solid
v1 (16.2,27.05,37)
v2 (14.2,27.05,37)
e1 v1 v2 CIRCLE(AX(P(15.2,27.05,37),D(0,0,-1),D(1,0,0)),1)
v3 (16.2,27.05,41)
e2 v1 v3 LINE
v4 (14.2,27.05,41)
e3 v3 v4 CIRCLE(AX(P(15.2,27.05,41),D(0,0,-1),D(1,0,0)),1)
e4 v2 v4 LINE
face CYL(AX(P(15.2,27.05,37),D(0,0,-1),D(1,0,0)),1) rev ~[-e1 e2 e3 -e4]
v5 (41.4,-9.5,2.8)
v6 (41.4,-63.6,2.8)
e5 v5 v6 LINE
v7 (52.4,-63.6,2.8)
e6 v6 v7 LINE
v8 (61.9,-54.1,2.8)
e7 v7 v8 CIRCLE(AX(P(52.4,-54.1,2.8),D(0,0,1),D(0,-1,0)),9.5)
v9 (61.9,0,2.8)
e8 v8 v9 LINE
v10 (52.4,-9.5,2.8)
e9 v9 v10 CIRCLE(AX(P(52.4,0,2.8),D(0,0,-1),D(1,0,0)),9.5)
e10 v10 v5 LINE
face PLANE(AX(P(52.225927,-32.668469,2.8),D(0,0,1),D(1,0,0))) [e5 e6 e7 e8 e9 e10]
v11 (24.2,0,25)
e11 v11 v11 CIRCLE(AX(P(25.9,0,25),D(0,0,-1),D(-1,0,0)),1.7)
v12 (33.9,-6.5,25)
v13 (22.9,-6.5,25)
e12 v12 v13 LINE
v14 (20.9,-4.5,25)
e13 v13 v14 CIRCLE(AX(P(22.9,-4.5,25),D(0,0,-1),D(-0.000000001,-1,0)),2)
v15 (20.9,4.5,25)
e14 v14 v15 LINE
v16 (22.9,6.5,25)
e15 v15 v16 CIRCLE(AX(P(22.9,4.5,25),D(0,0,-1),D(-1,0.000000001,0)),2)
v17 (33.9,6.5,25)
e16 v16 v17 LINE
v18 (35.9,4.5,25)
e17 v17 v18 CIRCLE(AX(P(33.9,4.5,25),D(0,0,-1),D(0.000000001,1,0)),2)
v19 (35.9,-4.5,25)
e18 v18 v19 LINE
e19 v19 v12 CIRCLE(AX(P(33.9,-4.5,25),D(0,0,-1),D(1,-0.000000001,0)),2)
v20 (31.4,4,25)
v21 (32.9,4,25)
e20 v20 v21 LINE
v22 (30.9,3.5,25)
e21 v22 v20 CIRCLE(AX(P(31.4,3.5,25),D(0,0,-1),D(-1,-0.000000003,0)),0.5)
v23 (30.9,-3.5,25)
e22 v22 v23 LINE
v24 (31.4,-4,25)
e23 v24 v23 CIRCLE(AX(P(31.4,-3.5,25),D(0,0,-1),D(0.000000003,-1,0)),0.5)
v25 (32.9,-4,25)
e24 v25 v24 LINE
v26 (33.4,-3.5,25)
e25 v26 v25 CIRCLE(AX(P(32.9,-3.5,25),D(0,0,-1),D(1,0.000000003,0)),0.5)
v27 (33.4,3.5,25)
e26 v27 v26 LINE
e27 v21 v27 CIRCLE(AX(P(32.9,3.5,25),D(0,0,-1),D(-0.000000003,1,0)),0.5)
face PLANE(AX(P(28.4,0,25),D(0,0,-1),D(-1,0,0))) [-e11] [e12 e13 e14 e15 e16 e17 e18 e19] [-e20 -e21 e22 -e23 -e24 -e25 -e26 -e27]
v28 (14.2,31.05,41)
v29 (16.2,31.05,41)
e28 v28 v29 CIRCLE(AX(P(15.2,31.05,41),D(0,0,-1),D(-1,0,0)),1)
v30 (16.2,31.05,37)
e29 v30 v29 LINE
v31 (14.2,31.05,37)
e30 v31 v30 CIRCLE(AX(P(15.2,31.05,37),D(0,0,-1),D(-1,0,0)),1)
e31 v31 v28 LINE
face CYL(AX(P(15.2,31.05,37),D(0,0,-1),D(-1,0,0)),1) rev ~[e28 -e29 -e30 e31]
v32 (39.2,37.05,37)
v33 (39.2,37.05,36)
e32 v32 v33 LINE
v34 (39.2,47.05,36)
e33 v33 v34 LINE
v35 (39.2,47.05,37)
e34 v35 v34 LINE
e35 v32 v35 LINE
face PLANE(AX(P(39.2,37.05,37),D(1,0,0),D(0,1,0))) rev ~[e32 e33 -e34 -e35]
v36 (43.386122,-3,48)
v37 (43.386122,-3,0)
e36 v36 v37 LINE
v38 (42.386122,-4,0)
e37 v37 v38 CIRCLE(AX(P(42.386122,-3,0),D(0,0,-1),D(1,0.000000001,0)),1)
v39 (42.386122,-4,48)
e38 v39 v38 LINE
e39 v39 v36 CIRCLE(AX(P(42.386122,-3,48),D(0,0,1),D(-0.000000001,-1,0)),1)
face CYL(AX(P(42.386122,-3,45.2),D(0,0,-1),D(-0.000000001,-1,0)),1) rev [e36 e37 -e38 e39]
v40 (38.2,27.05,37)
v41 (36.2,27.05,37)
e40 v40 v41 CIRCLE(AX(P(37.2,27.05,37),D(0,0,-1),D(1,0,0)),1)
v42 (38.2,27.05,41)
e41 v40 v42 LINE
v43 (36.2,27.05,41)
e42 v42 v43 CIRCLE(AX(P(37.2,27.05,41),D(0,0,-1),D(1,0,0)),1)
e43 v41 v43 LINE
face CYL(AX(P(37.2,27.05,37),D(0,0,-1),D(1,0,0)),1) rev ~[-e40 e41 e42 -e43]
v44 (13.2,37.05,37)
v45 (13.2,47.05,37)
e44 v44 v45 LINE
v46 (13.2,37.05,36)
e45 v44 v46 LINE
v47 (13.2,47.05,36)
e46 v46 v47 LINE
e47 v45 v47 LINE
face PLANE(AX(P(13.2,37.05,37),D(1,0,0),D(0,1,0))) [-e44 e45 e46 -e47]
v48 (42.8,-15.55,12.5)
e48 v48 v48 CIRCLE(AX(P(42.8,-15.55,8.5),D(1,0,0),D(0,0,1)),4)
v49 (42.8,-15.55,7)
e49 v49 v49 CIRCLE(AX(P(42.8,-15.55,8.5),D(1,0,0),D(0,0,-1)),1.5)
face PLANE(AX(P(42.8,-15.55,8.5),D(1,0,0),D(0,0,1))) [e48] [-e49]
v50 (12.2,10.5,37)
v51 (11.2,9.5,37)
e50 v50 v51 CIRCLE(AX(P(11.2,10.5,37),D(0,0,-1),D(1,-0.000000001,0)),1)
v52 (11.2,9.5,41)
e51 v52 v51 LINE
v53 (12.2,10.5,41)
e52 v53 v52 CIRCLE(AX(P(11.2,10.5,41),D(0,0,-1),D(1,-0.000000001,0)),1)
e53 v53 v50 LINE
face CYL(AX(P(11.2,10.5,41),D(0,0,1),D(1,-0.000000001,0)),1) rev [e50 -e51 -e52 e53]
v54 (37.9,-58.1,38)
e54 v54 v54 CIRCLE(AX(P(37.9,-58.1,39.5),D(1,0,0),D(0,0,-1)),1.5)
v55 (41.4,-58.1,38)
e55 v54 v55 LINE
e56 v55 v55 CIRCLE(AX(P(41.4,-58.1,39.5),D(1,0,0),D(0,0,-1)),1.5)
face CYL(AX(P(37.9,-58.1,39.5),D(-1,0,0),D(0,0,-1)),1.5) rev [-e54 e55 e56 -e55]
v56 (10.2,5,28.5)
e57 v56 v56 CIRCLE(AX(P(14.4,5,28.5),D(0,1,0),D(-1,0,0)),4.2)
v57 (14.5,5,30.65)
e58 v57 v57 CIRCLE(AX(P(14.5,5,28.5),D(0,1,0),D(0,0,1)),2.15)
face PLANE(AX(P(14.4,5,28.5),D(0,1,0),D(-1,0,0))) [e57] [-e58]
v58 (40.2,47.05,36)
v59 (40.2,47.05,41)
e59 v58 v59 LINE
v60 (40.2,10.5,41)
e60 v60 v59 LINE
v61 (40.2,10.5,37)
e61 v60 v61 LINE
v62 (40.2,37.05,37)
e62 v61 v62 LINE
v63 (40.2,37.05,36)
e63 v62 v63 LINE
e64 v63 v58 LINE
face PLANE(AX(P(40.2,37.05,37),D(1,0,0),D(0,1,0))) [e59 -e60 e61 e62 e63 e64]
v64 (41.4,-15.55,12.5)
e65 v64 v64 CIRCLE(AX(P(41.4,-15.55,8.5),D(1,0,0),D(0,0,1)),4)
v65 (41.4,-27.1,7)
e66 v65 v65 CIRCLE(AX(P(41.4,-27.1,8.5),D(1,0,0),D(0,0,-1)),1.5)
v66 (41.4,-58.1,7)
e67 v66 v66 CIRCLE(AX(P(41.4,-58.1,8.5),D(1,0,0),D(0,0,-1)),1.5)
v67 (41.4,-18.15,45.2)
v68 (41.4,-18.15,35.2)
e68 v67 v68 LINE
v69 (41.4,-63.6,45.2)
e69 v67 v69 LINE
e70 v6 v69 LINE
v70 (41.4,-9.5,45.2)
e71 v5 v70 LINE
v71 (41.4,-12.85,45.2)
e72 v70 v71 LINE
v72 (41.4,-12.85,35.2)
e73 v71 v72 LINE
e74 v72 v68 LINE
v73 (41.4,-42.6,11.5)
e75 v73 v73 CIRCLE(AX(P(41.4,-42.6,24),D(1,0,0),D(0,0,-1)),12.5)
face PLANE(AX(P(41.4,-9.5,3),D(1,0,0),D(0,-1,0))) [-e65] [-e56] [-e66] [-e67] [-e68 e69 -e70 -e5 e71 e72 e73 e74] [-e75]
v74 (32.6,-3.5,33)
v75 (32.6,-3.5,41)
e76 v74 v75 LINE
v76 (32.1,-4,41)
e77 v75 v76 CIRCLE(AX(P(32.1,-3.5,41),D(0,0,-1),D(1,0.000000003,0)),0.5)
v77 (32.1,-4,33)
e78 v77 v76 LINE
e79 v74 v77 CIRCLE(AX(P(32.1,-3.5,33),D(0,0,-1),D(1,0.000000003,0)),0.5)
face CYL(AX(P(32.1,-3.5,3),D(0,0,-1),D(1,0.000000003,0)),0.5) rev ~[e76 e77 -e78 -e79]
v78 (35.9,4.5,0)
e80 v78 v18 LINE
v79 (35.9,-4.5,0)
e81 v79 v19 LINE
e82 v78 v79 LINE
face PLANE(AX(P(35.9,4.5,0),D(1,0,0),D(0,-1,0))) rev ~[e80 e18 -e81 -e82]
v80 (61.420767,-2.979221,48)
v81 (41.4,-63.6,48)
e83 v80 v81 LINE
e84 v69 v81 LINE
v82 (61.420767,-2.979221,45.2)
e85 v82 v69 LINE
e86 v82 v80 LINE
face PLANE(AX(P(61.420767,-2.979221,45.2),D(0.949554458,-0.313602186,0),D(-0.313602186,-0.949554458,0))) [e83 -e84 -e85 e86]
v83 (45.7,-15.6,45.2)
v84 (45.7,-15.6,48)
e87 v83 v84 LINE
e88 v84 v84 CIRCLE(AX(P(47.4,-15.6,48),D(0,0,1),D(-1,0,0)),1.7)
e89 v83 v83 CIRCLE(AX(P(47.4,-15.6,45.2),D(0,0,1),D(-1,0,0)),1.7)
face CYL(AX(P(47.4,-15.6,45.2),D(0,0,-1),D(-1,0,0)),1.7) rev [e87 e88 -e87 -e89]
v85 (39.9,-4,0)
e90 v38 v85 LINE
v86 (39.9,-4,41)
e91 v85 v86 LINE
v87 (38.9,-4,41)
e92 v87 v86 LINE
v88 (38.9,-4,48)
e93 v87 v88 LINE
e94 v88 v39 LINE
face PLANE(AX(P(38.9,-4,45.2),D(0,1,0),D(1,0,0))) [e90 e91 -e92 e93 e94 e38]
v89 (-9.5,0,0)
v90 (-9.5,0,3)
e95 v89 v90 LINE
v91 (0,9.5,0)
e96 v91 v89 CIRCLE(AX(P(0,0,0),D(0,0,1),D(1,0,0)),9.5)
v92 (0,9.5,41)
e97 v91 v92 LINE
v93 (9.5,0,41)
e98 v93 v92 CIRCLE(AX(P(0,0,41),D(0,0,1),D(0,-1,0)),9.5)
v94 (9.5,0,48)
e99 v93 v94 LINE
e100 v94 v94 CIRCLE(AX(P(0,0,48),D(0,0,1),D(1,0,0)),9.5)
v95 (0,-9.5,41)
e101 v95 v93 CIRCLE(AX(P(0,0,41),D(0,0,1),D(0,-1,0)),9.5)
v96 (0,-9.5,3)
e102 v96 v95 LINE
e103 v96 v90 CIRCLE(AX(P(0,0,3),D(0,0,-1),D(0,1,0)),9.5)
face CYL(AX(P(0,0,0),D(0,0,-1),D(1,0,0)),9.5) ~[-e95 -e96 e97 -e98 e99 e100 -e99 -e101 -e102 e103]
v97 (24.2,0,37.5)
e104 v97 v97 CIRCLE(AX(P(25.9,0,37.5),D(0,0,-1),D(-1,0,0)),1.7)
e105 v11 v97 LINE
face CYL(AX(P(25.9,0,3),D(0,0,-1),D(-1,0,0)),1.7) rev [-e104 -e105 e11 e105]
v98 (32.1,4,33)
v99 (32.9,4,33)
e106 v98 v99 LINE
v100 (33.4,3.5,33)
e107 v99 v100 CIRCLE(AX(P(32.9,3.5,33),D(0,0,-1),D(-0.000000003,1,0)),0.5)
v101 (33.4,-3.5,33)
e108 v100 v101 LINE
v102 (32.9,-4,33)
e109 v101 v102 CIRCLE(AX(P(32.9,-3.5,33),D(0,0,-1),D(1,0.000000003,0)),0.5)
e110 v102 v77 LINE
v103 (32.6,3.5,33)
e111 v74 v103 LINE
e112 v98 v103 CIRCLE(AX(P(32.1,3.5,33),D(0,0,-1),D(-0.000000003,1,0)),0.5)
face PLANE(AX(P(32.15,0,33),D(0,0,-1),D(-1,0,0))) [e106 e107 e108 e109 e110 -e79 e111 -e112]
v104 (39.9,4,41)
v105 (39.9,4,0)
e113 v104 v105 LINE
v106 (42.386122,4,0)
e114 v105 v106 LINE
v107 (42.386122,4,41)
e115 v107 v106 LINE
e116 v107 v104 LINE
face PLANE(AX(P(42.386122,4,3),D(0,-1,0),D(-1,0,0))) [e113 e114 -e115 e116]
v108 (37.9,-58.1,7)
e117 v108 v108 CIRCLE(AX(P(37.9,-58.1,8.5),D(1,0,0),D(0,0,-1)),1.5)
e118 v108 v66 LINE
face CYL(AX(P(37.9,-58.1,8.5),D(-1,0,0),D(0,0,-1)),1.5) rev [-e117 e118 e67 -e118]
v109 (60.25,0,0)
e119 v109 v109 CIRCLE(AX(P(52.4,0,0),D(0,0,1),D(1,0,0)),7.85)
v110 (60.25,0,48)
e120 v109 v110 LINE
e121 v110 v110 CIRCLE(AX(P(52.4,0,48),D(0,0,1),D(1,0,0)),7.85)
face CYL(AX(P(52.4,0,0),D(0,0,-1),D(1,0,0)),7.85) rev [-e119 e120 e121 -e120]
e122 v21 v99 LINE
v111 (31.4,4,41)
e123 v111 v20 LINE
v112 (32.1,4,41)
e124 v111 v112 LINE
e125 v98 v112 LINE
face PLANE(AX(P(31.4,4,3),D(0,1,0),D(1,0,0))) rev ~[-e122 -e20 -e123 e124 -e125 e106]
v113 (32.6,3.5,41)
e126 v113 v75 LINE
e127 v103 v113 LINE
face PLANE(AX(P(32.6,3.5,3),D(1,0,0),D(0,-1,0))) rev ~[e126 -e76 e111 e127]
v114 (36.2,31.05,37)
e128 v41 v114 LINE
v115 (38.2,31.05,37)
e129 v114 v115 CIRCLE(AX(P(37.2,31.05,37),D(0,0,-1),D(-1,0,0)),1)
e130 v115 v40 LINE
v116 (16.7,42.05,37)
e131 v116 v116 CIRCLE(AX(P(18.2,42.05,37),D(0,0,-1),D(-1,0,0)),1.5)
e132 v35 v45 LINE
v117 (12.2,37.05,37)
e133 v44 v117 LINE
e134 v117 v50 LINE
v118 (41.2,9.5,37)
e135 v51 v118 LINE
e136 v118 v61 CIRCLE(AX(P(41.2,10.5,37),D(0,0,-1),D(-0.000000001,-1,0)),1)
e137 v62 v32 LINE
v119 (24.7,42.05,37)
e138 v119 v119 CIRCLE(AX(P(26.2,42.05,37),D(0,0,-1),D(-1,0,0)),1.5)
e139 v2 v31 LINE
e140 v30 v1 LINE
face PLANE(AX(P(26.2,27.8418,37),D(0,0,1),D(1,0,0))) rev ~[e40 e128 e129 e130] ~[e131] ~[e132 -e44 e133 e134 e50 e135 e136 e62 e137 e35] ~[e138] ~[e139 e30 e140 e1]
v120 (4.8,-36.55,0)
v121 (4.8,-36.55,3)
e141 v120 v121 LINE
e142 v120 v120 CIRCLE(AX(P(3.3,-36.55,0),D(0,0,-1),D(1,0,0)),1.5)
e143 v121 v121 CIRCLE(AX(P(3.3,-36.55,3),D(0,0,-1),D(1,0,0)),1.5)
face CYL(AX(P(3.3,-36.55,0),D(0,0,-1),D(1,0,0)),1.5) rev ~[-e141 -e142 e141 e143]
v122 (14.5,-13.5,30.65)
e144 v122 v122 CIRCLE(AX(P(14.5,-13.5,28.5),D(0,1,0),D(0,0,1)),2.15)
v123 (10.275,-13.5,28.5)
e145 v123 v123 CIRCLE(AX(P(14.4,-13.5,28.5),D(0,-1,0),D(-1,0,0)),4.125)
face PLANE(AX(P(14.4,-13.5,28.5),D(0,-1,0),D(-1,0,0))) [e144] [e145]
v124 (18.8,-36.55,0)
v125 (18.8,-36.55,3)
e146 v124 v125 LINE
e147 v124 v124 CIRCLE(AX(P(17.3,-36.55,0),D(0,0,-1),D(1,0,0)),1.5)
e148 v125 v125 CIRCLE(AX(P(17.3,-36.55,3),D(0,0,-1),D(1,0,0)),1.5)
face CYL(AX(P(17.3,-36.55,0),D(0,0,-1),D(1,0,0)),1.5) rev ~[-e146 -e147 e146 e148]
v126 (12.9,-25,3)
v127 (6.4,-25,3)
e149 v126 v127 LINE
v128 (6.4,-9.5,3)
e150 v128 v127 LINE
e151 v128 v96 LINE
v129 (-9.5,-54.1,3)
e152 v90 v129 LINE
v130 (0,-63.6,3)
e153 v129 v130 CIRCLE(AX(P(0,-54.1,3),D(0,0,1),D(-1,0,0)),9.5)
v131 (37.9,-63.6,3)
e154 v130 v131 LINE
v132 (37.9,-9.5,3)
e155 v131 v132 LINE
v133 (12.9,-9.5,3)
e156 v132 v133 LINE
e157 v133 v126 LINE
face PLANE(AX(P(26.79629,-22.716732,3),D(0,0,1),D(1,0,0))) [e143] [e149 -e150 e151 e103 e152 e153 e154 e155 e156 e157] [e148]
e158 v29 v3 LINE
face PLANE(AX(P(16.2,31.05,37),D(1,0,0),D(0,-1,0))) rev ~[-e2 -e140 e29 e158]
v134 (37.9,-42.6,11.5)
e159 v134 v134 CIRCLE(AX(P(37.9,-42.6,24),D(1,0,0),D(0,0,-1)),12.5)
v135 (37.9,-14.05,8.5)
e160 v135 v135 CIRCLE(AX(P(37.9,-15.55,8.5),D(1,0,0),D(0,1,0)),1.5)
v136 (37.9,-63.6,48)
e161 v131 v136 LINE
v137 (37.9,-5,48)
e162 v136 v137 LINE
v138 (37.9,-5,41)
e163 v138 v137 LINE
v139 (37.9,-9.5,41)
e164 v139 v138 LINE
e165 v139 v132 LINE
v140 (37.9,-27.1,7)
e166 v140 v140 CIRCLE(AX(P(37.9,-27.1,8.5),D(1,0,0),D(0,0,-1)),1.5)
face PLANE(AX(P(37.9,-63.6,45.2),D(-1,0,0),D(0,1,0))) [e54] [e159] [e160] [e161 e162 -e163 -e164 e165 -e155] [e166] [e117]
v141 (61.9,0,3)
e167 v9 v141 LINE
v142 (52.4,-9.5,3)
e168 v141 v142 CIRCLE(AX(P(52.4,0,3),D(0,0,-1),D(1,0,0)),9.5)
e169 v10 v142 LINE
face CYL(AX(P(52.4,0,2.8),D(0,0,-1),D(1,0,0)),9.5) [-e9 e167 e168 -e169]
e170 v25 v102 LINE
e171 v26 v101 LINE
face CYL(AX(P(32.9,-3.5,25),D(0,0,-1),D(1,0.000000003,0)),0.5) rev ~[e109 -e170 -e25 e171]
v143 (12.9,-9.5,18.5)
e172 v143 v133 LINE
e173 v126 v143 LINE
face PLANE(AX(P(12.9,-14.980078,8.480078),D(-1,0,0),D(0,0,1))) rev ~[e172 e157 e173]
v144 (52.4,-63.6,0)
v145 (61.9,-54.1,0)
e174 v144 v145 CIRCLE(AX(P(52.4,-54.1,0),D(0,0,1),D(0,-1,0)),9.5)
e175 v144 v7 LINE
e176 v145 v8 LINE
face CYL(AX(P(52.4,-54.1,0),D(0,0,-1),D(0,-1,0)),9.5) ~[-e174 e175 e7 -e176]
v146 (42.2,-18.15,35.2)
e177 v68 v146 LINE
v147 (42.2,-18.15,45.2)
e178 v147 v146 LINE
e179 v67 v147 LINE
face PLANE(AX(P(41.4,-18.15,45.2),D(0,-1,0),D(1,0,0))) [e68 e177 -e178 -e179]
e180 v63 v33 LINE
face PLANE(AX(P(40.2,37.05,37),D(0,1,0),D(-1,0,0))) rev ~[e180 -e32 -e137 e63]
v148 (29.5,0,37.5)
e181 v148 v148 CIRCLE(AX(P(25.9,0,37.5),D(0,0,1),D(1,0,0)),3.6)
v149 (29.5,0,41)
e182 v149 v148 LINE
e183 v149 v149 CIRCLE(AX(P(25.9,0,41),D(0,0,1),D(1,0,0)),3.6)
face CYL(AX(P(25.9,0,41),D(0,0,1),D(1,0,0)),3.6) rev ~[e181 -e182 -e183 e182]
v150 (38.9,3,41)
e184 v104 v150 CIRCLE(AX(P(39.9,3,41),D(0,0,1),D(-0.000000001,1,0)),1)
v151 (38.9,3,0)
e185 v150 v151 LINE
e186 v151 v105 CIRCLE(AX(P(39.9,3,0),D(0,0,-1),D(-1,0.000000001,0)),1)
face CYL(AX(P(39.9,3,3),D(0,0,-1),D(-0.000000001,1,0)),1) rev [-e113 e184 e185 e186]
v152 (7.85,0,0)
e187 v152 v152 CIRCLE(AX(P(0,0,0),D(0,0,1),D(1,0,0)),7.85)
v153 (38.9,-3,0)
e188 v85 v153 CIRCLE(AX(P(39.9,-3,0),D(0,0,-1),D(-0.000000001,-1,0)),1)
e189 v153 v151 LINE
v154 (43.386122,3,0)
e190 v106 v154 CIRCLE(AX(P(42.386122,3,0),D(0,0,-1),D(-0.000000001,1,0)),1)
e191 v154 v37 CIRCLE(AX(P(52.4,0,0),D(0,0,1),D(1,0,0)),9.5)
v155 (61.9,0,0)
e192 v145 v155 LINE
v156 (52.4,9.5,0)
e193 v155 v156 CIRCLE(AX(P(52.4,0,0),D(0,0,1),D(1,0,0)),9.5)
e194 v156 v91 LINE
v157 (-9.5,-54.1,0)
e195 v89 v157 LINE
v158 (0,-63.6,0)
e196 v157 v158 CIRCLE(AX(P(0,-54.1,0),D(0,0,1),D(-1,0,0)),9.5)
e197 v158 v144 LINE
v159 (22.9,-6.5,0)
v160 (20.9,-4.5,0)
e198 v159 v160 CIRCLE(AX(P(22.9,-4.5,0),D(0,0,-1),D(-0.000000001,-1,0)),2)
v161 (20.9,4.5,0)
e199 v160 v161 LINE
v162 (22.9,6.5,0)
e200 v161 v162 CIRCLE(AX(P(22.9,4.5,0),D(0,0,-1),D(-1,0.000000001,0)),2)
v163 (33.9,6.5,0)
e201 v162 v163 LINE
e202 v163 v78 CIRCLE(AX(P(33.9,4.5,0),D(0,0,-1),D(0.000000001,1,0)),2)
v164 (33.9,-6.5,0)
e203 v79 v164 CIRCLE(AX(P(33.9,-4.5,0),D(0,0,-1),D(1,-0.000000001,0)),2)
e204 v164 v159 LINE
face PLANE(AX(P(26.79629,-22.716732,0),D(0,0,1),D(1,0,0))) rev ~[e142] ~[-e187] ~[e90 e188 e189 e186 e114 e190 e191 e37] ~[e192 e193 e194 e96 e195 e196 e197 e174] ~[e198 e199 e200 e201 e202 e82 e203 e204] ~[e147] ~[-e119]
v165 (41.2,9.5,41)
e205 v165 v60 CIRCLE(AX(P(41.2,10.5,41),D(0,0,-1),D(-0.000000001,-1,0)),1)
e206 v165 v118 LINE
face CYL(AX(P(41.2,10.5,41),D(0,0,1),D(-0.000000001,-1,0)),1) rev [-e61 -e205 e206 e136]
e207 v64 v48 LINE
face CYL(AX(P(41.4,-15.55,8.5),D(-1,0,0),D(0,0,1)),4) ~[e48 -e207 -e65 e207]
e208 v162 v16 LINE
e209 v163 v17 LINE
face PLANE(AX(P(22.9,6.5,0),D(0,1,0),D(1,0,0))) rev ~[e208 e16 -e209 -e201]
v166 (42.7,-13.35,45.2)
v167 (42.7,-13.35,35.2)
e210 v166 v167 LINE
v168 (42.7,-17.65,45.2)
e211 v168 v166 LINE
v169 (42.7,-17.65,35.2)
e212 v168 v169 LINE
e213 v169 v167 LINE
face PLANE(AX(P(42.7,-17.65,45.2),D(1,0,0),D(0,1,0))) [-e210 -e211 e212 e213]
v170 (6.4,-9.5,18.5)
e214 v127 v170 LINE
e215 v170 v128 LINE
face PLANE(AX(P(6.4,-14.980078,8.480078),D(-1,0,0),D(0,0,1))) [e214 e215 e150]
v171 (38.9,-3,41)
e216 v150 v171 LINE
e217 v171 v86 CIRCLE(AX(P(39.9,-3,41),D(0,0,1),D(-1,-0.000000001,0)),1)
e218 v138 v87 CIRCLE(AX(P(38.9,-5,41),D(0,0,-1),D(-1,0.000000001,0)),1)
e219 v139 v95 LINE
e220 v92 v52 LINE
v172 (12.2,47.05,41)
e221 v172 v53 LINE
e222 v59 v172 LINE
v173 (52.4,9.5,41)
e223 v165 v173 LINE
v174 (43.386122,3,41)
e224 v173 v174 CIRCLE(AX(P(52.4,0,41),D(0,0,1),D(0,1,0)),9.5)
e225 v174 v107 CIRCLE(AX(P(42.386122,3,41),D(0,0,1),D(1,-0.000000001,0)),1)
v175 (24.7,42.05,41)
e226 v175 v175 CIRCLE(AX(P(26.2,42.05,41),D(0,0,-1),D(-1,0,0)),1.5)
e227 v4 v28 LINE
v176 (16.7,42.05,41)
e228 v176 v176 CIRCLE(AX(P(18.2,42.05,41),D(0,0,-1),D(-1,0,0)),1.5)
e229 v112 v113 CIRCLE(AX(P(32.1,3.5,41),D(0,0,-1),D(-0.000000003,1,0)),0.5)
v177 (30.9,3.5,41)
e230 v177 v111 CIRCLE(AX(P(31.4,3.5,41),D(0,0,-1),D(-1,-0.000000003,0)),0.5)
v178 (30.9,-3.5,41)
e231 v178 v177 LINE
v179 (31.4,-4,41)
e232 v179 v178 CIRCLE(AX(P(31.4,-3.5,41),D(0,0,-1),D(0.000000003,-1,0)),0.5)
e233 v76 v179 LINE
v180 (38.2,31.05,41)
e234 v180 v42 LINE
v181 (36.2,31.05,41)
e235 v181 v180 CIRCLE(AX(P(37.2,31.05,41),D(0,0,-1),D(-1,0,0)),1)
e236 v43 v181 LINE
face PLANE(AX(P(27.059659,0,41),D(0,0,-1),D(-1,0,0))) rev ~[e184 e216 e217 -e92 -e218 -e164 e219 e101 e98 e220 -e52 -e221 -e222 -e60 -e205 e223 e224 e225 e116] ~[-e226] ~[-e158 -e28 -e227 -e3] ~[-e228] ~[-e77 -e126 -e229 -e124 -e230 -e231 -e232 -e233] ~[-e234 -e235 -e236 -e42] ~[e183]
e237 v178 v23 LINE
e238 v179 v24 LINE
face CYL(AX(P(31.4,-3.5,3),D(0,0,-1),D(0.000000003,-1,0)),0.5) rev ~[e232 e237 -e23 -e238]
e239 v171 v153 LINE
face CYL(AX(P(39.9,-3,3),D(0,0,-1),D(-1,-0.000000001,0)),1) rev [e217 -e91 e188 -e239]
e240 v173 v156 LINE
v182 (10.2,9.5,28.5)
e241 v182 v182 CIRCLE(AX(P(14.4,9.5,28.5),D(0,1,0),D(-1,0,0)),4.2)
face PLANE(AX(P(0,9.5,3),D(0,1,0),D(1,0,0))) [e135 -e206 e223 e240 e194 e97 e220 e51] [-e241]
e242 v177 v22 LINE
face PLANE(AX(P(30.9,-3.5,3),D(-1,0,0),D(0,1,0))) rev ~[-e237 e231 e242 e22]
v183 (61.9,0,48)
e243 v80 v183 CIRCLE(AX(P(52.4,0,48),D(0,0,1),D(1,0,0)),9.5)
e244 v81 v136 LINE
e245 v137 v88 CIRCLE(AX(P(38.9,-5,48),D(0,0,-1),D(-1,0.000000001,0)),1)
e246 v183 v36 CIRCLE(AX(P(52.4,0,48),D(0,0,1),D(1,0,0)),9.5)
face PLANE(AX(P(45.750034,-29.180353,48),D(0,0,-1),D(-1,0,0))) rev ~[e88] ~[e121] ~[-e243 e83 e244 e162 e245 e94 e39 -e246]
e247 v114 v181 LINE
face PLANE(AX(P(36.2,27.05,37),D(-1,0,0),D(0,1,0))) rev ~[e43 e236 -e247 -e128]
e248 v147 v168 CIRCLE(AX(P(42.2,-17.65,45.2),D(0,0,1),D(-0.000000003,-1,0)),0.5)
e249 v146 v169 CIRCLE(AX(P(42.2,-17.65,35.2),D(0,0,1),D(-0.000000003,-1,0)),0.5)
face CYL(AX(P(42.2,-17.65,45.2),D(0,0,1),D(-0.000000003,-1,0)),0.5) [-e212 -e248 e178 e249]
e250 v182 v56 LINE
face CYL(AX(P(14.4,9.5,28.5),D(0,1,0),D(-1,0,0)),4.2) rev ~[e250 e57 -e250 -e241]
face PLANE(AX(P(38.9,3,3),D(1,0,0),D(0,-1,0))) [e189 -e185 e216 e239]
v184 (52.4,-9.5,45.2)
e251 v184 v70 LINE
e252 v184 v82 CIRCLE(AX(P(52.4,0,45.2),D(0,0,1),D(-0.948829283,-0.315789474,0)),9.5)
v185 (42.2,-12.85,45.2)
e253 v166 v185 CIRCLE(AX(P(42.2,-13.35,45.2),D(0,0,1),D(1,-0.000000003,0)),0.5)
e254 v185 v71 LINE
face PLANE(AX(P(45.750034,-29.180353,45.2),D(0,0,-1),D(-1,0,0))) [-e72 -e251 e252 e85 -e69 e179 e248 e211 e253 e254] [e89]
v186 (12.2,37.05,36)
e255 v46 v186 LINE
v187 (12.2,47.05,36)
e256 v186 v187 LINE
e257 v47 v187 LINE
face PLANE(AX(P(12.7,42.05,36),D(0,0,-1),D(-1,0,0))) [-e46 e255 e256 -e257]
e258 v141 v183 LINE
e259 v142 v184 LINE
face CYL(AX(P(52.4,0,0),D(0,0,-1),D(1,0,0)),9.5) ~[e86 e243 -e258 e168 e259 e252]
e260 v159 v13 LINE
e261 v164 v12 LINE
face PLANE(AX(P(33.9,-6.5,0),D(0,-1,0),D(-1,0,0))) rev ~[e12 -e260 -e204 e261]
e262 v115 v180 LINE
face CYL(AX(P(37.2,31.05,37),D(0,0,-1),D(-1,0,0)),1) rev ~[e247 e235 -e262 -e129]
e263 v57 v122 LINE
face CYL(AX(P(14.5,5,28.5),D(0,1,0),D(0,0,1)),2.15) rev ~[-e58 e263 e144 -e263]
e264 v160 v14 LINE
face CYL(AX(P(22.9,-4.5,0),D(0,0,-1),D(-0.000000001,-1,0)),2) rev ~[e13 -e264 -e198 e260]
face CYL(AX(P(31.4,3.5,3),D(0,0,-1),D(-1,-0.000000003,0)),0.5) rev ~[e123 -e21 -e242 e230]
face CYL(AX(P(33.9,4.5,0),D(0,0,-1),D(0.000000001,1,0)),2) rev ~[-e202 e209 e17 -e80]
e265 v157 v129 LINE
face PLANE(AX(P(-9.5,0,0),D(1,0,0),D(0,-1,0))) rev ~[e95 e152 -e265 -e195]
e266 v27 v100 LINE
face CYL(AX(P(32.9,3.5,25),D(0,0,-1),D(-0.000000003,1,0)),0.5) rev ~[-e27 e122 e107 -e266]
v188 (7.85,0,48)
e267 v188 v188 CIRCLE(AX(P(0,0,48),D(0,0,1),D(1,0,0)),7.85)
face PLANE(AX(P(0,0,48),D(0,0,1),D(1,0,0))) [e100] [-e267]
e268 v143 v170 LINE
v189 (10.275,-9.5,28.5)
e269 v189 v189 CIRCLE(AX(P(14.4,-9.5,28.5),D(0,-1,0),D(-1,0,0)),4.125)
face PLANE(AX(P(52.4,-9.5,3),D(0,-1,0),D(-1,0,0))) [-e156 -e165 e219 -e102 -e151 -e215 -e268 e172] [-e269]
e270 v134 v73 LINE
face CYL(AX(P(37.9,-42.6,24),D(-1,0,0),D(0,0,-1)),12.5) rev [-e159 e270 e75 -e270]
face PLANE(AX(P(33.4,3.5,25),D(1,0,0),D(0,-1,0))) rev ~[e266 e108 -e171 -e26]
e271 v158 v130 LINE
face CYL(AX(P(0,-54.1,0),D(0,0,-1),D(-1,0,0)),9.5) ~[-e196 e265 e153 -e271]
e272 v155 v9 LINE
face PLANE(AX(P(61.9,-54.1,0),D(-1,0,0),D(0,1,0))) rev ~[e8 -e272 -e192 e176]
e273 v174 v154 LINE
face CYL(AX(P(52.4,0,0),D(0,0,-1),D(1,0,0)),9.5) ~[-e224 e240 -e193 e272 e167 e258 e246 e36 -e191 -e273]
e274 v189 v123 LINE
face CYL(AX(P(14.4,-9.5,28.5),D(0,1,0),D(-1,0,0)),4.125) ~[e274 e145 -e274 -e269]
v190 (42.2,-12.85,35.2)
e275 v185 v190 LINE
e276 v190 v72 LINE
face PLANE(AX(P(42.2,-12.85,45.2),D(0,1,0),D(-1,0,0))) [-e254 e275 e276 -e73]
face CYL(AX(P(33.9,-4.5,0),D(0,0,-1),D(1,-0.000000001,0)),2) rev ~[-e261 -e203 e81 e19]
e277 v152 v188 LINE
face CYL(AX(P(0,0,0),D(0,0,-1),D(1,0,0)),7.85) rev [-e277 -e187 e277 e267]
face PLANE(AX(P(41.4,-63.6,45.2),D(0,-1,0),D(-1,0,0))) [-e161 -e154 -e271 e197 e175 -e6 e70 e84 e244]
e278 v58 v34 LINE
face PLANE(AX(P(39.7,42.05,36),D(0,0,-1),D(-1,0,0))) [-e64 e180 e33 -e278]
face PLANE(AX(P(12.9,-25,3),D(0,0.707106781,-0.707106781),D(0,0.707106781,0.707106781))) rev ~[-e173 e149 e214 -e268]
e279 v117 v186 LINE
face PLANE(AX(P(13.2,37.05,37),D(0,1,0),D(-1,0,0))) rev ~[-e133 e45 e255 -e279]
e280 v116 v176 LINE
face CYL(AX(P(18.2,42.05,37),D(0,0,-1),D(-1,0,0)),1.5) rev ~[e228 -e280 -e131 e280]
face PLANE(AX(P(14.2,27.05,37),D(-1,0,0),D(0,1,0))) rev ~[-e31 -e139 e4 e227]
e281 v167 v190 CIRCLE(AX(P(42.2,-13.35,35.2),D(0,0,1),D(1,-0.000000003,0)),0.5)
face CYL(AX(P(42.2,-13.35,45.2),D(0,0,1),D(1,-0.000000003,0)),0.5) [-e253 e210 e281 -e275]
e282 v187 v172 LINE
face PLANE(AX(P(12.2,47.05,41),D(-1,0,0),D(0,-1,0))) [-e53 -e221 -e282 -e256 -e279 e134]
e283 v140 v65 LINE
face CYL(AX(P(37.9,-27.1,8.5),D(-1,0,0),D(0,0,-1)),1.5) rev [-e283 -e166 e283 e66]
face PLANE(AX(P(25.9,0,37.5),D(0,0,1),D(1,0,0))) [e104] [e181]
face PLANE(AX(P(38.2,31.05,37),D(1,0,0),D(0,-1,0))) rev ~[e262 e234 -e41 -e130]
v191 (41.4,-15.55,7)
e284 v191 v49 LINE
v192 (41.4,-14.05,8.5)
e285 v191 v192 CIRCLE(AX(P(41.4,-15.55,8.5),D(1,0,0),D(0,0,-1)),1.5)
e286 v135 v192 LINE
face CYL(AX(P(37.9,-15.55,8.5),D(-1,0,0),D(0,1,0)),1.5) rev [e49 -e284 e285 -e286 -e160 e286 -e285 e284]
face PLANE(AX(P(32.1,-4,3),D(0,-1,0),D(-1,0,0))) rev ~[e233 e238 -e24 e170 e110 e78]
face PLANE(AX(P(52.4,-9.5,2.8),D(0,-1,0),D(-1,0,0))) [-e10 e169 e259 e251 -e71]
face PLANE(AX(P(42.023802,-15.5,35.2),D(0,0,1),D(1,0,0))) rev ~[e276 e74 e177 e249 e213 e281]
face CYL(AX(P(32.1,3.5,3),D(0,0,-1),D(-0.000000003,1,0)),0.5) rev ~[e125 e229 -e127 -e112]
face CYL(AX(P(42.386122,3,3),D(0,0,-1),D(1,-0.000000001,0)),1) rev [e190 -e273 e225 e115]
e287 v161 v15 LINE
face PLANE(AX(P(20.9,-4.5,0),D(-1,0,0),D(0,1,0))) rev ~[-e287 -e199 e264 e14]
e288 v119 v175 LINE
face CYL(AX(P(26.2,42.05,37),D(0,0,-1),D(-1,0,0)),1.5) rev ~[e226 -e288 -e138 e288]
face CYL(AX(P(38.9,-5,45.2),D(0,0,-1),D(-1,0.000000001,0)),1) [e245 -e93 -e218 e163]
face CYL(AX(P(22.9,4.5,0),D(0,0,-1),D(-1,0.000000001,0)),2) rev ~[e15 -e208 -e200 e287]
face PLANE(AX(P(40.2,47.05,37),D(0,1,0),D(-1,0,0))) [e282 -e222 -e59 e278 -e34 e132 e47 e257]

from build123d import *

# Parameters (mm, degrees)
SKETCH1_R             = 9.5
SKETCH1_R_2           = 7.85
BOSS_EXTRUDE1_DEPTH   = 48
BOSS_EXTRUDE1_2_DEPTH = 48
SKETCH29_R            = 1.5
BOSS_EXTRUDE18_DEPTH  = 3
SKETCH36_R            = 1.7
BOSS_EXTRUDE26_DEPTH  = 38
SKETCH14_R            = 4.125
BOSS_EXTRUDE27_DEPTH  = 4
SKETCH34_R            = 4.2
CUT_EXTRUDE17_DEPTH   = 4.5
SKETCH38_R            = 2.15
CUT_EXTRUDE18_DEPTH   = 18.5
BOSS_EXTRUDE43_DEPTH  = 42.2
SKETCH7_R             = 1.7
BOSS_EXTRUDE44_DEPTH  = 2.8
BOSS_EXTRUDE42_START  = 25
BOSS_EXTRUDE42_DEPTH  = 6.5
BOSS_EXTRUDE45_DEPTH  = 10
SKETCH47_R            = 4
SKETCH47_R_2          = 1.5
BOSS_EXTRUDE40_DEPTH  = 1.4
CUT_EXTRUDE19_START   = -3.5
SKETCH20_R            = 1.5
SKETCH20_R_2          = 12.5
CUT_EXTRUDE19_DEPTH   = 3.5
SKETCH43_R            = 3.6
CUT_EXTRUDE22_DEPTH   = 3.5
BOSS_EXTRUDE38_DEPTH  = 4
SKETCH52_W            = 1
SKETCH52_H            = 10
BOSS_EXTRUDE36_DEPTH  = 1
SKETCH53_R            = 1.5
CUT_EXTRUDE29_DEPTH   = 4
CUT_EXTRUDE30_START   = -0.2
CUT_EXTRUDE30_DEPTH   = 0.2
CUT_EXTRUDE33_DEPTH   = 25
CUT_EXTRUDE32_DEPTH   = 8


with BuildPart() as part:
    # Sketch1 → Boss-Extrude1 (new body)
    with BuildSketch(Plane.XY):
        Circle(SKETCH1_R)
        Circle(SKETCH1_R_2, mode=Mode.SUBTRACT)
    extrude(amount=BOSS_EXTRUDE1_DEPTH)



with BuildPart() as body_2:
    # Sketch1 → Boss-Extrude1 2 (new body)
    with BuildSketch(Plane.XY):
        with Locations((52.4, 0)):
            Circle(SKETCH1_R)
        with Locations((52.4, 0)):
            Circle(SKETCH1_R_2, mode=Mode.SUBTRACT)
    extrude(amount=BOSS_EXTRUDE1_2_DEPTH)


with BuildPart() as part_1:
    add(part.part)

    add(body_2.part)  # Boss-Extrude18 merges body 2
    # Sketch29 → Boss-Extrude18 (add)
    with BuildSketch(Plane(origin=(0, 0, 0), x_dir=(-1, 0, 0), z_dir=(0, 0, -1))):
        with BuildLine():
            Line((-52.4, 9.5), (0, 9.5))
            ThreePointArc((0, 9.5), (-6.717514421, -6.717514421), (9.5, 0))
            Line((9.5, 0), (9.5, -54.1))
            ThreePointArc((9.5, -54.1), (6.717514421, -60.817514421), (0, -63.6))
            Line((0, -63.6), (-52.4, -63.6))
            ThreePointArc((-52.4, -63.6), (-59.117514421, -60.817514421), (-61.9, -54.1))
            Line((-61.9, -54.1), (-61.9, 0))
            ThreePointArc((-61.9, 0), (-53.919565268, -9.377682091), (-43.386121811, -3))
            ThreePointArc((-43.386121811, -3), (-43.093228593, -3.707106781), (-42.386121811, -4))
            Line((-42.386121811, -4), (-39.9, -4))
            ThreePointArc((-39.9, -4), (-39.192893219, -3.707106781), (-38.9, -3))
            Line((-38.9, -3), (-38.9, 3))
            ThreePointArc((-38.9, 3), (-39.192893219, 3.707106781), (-39.9, 4))
            Line((-39.9, 4), (-42.386121811, 4))
            ThreePointArc((-42.386121811, 4), (-43.093228593, 3.707106781), (-43.386121811, 3))
            ThreePointArc((-43.386121811, 3), (-46.843472307, 7.705517504), (-52.4, 9.5))
        make_face()
        with Locations(Location((-3.3, -36.55, 0), (0, 0, 180))):
            Circle(SKETCH29_R, mode=Mode.SUBTRACT)
        with Locations(Location((-17.3, -36.55, 0), (0, 0, 180))):
            Circle(SKETCH29_R, mode=Mode.SUBTRACT)
    extrude(amount=-BOSS_EXTRUDE18_DEPTH)

    # Sketch36 → Boss-Extrude26 (add)
    with BuildSketch(Plane.XY.offset(3)):
        with BuildLine():
            Line((0, 9.5), (52.4, 9.5))
            ThreePointArc((52.4, 9.5), (46.843472307, 7.705517504), (43.386121811, 3))
            ThreePointArc((43.386121811, 3), (43.093228593, 3.707106781), (42.386121811, 4))
            Line((42.386121811, 4), (39.9, 4))
            ThreePointArc((39.9, 4), (39.192893219, 3.707106781), (38.9, 3))
            Line((38.9, 3), (38.9, -3))
            ThreePointArc((38.9, -3), (39.192893219, -3.707106781), (39.9, -4))
            Line((39.9, -4), (42.386121811, -4))
            ThreePointArc((42.386121811, -4), (43.093228593, -3.707106781), (43.386121811, -3))
            ThreePointArc((43.386121811, -3), (46.843472307, -7.705517504), (52.4, -9.5))
            Line((52.4, -9.5), (0, -9.5))
            ThreePointArc((0, -9.5), (9.5, 0), (0, 9.5))
        make_face()
        with Locations(Location((25.9, 0, 0), (0, 0, 180))):
            Circle(SKETCH36_R, mode=Mode.SUBTRACT)
        with BuildLine():
            Line((31.4, 4), (32.1, 4))
            ThreePointArc((32.1, 4), (32.453553391, 3.853553391), (32.6, 3.5))
            Line((32.6, 3.5), (32.6, -3.5))
            ThreePointArc((32.6, -3.5), (32.453553391, -3.853553391), (32.1, -4))
            Line((32.1, -4), (31.4, -4))
            ThreePointArc((31.4, -4), (31.046446609, -3.853553391), (30.9, -3.5))
            Line((30.9, -3.5), (30.9, 3.5))
            ThreePointArc((30.9, 3.5), (31.046446609, 3.853553391), (31.4, 4))
        make_face(mode=Mode.SUBTRACT)
    extrude(amount=BOSS_EXTRUDE26_DEPTH)

    # Sketch14 → Boss-Extrude27 (add)
    with BuildSketch(Plane.XZ.offset(9.5)):
        with Locations(Location((14.4, 28.5, 0), (0, 0, 180))):
            Circle(SKETCH14_R)
    extrude(amount=BOSS_EXTRUDE27_DEPTH)

    # Sketch34 → Cut-Extrude17 (cut)
    with BuildSketch(Plane(origin=(0, 9.5, 0), x_dir=(1, 0, 0), z_dir=(0, 1, 0))):
        with Locations(Location((14.4, -28.5, 0), (0, 0, 180))):
            Circle(SKETCH34_R)
    extrude(amount=-CUT_EXTRUDE17_DEPTH, mode=Mode.SUBTRACT)

    # Sketch38 → Cut-Extrude18 (cut)
    with BuildSketch(Plane(origin=(0, 5, 0), x_dir=(1, 0, 0), z_dir=(0, 1, 0))):
        with Locations(Location((14.5, -28.5, 0), (0, 0, 270))):
            Circle(SKETCH38_R)
    extrude(amount=-CUT_EXTRUDE18_DEPTH, mode=Mode.SUBTRACT)

    # Sketch39 → Boss-Extrude43 (add)
    with BuildSketch(Plane.XY.offset(3)):
        with BuildLine():
            Line((41.4, -63.6), (37.9, -63.6))
            Line((37.9, -63.6), (37.9, -5))
            ThreePointArc((37.9, -5), (38.192893219, -4.292893219), (38.9, -4))
            Line((38.9, -4), (42.386121811, -4))
            ThreePointArc((42.386121811, -4), (43.093228593, -3.707106781), (43.386121811, -3))
            ThreePointArc((43.386121811, -3), (46.843472307, -7.705517504), (52.4, -9.5))
            Line((52.4, -9.5), (41.4, -9.5))
            Line((41.4, -9.5), (41.4, -63.6))
        make_face()
    extrude(amount=BOSS_EXTRUDE43_DEPTH)

    # Sketch7 → Boss-Extrude44 (add)
    with BuildSketch(Plane.XY.offset(45.2)):
        with BuildLine():
            Line((38.9, -4), (42.386121811, -4))
            ThreePointArc((42.386121811, -4), (43.093228593, -3.707106781), (43.386121811, -3))
            ThreePointArc((43.386121811, -3), (52.410945742, -9.499993694), (61.420767352, -2.979220768))
            Line((61.420767352, -2.979220768), (41.4, -63.6))
            Line((41.4, -63.6), (37.9, -63.6))
            Line((37.9, -63.6), (37.9, -5))
            ThreePointArc((37.9, -5), (38.192893219, -4.292893219), (38.9, -4))
        make_face()
        with Locations(Location((47.4, -15.6, 0), (0, 0, 180))):
            Circle(SKETCH7_R, mode=Mode.SUBTRACT)
    extrude(amount=BOSS_EXTRUDE44_DEPTH)

    # Sketch69 → Boss-Extrude42 (add)
    with BuildSketch(Plane.ZY.offset(-37.9).offset(BOSS_EXTRUDE42_START)):
        Polygon((3, -9.5), (3, -25), (18.5, -9.5), align=None)
    extrude(amount=BOSS_EXTRUDE42_DEPTH)

    # Sketch40 → Boss-Extrude45 (add)
    with BuildSketch(Plane(origin=(0, 0, 45.2), x_dir=(-1, 0, 0), z_dir=(0, 0, -1))):
        with BuildLine():
            Line((-42.2, -12.85), (-41.4, -12.85))
            Line((-41.4, -12.85), (-41.4, -18.15))
            Line((-41.4, -18.15), (-42.2, -18.15))
            ThreePointArc((-42.2, -18.15), (-42.553553391, -18.003553391), (-42.7, -17.65))
            Line((-42.7, -17.65), (-42.7, -13.35))
            ThreePointArc((-42.7, -13.35), (-42.553553391, -12.996446609), (-42.2, -12.85))
        make_face()
    extrude(amount=BOSS_EXTRUDE45_DEPTH)

    # Sketch47 → Boss-Extrude40 (add)
    with BuildSketch(Plane(origin=(41.4, 0, 0), x_dir=(0, 0, -1), z_dir=(1, 0, 0))):
        with Locations(Location((-8.5, -15.55, 0), (0, 0, 180))):
            Circle(SKETCH47_R)
        with Locations((-8.5, -15.55)):
            Circle(SKETCH47_R_2, mode=Mode.SUBTRACT)
    extrude(amount=BOSS_EXTRUDE40_DEPTH)

    # Sketch20 → Cut-Extrude19 (cut)
    with BuildSketch(Plane(origin=(41.4, 0, 0), x_dir=(0, 0, -1), z_dir=(1, 0, 0)).offset(CUT_EXTRUDE19_START)):
        with Locations((-8.5, -58.1)):
            Circle(SKETCH20_R)
        with Locations((-39.5, -58.1)):
            Circle(SKETCH20_R)
        with Locations((-8.5, -27.1)):
            Circle(SKETCH20_R)
        with Locations((-24, -42.6)):
            Circle(SKETCH20_R_2)
        with Locations(Location((-8.5, -15.55, 0), (0, 0, 90))):
            Circle(SKETCH20_R)
    extrude(amount=CUT_EXTRUDE19_DEPTH, mode=Mode.SUBTRACT)

    # Sketch43 → Cut-Extrude22 (cut)
    with BuildSketch(Plane.XY.offset(41)):
        with Locations((25.9, 0)):
            Circle(SKETCH43_R)
    extrude(amount=-CUT_EXTRUDE22_DEPTH, mode=Mode.SUBTRACT)

    # Sketch59 → Boss-Extrude38 (add)
    with BuildSketch(Plane.XY.offset(41)):
        with BuildLine():
            Line((11.2, 9.5), (41.2, 9.5))
            ThreePointArc((41.2, 9.5), (40.492893219, 9.792893219), (40.2, 10.5))
            Line((40.2, 10.5), (40.2, 47.05))
            Line((40.2, 47.05), (12.2, 47.05))
            Line((12.2, 47.05), (12.2, 10.5))
            ThreePointArc((12.2, 10.5), (11.907106781, 9.792893219), (11.2, 9.5))
        make_face()
    extrude(amount=-BOSS_EXTRUDE38_DEPTH)

    # Sketch52 → Boss-Extrude36 (add)
    with BuildSketch(Plane(origin=(-30, 0, 37), x_dir=(-1, 0, 0), z_dir=(0, 0, -1))):
        with Locations((-69.7, 42.05)):
            Rectangle(SKETCH52_W, SKETCH52_H)
        with Locations((-42.7, 42.05)):
            Rectangle(SKETCH52_W, SKETCH52_H)
    extrude(amount=BOSS_EXTRUDE36_DEPTH)

    # Sketch53 → Cut-Extrude29 (cut)
    with BuildSketch(Plane(origin=(-30, 0, 37), x_dir=(-1, 0, 0), z_dir=(0, 0, -1))):
        with Locations((-48.2, 42.05)):
            Circle(SKETCH53_R)
        with Locations((-56.2, 42.05)):
            Circle(SKETCH53_R)
        with BuildLine():
            Line((-68.2, 31.05), (-68.2, 27.05))
            ThreePointArc((-68.2, 27.05), (-67.2, 26.05), (-66.2, 27.05))
            Line((-66.2, 27.05), (-66.2, 31.05))
            ThreePointArc((-66.2, 31.05), (-67.2, 32.05), (-68.2, 31.05))
        make_face()
        with BuildLine():
            Line((-46.2, 31.05), (-46.2, 27.05))
            ThreePointArc((-46.2, 27.05), (-45.2, 26.05), (-44.2, 27.05))
            Line((-44.2, 27.05), (-44.2, 31.05))
            ThreePointArc((-44.2, 31.05), (-45.2, 32.05), (-46.2, 31.05))
        make_face()
    extrude(amount=-CUT_EXTRUDE29_DEPTH, mode=Mode.SUBTRACT)

    # Sketch62 → Cut-Extrude30 (cut)
    with BuildSketch(Plane.XY.offset(3).offset(CUT_EXTRUDE30_START)):
        with BuildLine():
            Line((61.9, -54.1), (61.9, 0))
            ThreePointArc((61.9, 0), (59.117514421, -6.717514421), (52.4, -9.5))
            Line((52.4, -9.5), (41.4, -9.5))
            Line((41.4, -9.5), (41.4, -63.6))
            Line((41.4, -63.6), (52.4, -63.6))
            ThreePointArc((52.4, -63.6), (59.117514421, -60.817514421), (61.9, -54.1))
        make_face()
    extrude(amount=CUT_EXTRUDE30_DEPTH, mode=Mode.SUBTRACT)

    # Sketch70 → Cut-Extrude33 (cut)
    with BuildSketch(Plane(origin=(0, 0, 0), x_dir=(-1, 0, 0), z_dir=(0, 0, -1))):
        with BuildLine():
            Line((-33.9, -6.5), (-22.9, -6.5))
            ThreePointArc((-22.9, -6.5), (-21.485786438, -5.914213562), (-20.9, -4.5))
            Line((-20.9, -4.5), (-20.9, 4.5))
            ThreePointArc((-20.9, 4.5), (-21.485786438, 5.914213562), (-22.9, 6.5))
            Line((-22.9, 6.5), (-33.9, 6.5))
            ThreePointArc((-33.9, 6.5), (-35.314213562, 5.914213562), (-35.9, 4.5))
            Line((-35.9, 4.5), (-35.9, -4.5))
            ThreePointArc((-35.9, -4.5), (-35.314213562, -5.914213562), (-33.9, -6.5))
        make_face()
    extrude(amount=-CUT_EXTRUDE33_DEPTH, mode=Mode.SUBTRACT)

    # Sketch66 → Cut-Extrude32 (cut)
    with BuildSketch(Plane(origin=(0, 0, 25), x_dir=(-1, 0, 0), z_dir=(0, 0, -1))):
        with BuildLine():
            Line((-31.4, 4), (-32.9, 4))
            ThreePointArc((-32.9, 4), (-33.253553391, 3.853553391), (-33.4, 3.5))
            Line((-33.4, 3.5), (-33.4, -3.5))
            ThreePointArc((-33.4, -3.5), (-33.253553391, -3.853553391), (-32.9, -4))
            Line((-32.9, -4), (-31.4, -4))
            ThreePointArc((-31.4, -4), (-31.046446609, -3.853553391), (-30.9, -3.5))
            Line((-30.9, -3.5), (-30.9, 3.5))
            ThreePointArc((-30.9, 3.5), (-31.046446609, 3.853553391), (-31.4, 4))
        make_face()
    extrude(amount=-CUT_EXTRUDE32_DEPTH, mode=Mode.SUBTRACT)


solid = part_1.part
